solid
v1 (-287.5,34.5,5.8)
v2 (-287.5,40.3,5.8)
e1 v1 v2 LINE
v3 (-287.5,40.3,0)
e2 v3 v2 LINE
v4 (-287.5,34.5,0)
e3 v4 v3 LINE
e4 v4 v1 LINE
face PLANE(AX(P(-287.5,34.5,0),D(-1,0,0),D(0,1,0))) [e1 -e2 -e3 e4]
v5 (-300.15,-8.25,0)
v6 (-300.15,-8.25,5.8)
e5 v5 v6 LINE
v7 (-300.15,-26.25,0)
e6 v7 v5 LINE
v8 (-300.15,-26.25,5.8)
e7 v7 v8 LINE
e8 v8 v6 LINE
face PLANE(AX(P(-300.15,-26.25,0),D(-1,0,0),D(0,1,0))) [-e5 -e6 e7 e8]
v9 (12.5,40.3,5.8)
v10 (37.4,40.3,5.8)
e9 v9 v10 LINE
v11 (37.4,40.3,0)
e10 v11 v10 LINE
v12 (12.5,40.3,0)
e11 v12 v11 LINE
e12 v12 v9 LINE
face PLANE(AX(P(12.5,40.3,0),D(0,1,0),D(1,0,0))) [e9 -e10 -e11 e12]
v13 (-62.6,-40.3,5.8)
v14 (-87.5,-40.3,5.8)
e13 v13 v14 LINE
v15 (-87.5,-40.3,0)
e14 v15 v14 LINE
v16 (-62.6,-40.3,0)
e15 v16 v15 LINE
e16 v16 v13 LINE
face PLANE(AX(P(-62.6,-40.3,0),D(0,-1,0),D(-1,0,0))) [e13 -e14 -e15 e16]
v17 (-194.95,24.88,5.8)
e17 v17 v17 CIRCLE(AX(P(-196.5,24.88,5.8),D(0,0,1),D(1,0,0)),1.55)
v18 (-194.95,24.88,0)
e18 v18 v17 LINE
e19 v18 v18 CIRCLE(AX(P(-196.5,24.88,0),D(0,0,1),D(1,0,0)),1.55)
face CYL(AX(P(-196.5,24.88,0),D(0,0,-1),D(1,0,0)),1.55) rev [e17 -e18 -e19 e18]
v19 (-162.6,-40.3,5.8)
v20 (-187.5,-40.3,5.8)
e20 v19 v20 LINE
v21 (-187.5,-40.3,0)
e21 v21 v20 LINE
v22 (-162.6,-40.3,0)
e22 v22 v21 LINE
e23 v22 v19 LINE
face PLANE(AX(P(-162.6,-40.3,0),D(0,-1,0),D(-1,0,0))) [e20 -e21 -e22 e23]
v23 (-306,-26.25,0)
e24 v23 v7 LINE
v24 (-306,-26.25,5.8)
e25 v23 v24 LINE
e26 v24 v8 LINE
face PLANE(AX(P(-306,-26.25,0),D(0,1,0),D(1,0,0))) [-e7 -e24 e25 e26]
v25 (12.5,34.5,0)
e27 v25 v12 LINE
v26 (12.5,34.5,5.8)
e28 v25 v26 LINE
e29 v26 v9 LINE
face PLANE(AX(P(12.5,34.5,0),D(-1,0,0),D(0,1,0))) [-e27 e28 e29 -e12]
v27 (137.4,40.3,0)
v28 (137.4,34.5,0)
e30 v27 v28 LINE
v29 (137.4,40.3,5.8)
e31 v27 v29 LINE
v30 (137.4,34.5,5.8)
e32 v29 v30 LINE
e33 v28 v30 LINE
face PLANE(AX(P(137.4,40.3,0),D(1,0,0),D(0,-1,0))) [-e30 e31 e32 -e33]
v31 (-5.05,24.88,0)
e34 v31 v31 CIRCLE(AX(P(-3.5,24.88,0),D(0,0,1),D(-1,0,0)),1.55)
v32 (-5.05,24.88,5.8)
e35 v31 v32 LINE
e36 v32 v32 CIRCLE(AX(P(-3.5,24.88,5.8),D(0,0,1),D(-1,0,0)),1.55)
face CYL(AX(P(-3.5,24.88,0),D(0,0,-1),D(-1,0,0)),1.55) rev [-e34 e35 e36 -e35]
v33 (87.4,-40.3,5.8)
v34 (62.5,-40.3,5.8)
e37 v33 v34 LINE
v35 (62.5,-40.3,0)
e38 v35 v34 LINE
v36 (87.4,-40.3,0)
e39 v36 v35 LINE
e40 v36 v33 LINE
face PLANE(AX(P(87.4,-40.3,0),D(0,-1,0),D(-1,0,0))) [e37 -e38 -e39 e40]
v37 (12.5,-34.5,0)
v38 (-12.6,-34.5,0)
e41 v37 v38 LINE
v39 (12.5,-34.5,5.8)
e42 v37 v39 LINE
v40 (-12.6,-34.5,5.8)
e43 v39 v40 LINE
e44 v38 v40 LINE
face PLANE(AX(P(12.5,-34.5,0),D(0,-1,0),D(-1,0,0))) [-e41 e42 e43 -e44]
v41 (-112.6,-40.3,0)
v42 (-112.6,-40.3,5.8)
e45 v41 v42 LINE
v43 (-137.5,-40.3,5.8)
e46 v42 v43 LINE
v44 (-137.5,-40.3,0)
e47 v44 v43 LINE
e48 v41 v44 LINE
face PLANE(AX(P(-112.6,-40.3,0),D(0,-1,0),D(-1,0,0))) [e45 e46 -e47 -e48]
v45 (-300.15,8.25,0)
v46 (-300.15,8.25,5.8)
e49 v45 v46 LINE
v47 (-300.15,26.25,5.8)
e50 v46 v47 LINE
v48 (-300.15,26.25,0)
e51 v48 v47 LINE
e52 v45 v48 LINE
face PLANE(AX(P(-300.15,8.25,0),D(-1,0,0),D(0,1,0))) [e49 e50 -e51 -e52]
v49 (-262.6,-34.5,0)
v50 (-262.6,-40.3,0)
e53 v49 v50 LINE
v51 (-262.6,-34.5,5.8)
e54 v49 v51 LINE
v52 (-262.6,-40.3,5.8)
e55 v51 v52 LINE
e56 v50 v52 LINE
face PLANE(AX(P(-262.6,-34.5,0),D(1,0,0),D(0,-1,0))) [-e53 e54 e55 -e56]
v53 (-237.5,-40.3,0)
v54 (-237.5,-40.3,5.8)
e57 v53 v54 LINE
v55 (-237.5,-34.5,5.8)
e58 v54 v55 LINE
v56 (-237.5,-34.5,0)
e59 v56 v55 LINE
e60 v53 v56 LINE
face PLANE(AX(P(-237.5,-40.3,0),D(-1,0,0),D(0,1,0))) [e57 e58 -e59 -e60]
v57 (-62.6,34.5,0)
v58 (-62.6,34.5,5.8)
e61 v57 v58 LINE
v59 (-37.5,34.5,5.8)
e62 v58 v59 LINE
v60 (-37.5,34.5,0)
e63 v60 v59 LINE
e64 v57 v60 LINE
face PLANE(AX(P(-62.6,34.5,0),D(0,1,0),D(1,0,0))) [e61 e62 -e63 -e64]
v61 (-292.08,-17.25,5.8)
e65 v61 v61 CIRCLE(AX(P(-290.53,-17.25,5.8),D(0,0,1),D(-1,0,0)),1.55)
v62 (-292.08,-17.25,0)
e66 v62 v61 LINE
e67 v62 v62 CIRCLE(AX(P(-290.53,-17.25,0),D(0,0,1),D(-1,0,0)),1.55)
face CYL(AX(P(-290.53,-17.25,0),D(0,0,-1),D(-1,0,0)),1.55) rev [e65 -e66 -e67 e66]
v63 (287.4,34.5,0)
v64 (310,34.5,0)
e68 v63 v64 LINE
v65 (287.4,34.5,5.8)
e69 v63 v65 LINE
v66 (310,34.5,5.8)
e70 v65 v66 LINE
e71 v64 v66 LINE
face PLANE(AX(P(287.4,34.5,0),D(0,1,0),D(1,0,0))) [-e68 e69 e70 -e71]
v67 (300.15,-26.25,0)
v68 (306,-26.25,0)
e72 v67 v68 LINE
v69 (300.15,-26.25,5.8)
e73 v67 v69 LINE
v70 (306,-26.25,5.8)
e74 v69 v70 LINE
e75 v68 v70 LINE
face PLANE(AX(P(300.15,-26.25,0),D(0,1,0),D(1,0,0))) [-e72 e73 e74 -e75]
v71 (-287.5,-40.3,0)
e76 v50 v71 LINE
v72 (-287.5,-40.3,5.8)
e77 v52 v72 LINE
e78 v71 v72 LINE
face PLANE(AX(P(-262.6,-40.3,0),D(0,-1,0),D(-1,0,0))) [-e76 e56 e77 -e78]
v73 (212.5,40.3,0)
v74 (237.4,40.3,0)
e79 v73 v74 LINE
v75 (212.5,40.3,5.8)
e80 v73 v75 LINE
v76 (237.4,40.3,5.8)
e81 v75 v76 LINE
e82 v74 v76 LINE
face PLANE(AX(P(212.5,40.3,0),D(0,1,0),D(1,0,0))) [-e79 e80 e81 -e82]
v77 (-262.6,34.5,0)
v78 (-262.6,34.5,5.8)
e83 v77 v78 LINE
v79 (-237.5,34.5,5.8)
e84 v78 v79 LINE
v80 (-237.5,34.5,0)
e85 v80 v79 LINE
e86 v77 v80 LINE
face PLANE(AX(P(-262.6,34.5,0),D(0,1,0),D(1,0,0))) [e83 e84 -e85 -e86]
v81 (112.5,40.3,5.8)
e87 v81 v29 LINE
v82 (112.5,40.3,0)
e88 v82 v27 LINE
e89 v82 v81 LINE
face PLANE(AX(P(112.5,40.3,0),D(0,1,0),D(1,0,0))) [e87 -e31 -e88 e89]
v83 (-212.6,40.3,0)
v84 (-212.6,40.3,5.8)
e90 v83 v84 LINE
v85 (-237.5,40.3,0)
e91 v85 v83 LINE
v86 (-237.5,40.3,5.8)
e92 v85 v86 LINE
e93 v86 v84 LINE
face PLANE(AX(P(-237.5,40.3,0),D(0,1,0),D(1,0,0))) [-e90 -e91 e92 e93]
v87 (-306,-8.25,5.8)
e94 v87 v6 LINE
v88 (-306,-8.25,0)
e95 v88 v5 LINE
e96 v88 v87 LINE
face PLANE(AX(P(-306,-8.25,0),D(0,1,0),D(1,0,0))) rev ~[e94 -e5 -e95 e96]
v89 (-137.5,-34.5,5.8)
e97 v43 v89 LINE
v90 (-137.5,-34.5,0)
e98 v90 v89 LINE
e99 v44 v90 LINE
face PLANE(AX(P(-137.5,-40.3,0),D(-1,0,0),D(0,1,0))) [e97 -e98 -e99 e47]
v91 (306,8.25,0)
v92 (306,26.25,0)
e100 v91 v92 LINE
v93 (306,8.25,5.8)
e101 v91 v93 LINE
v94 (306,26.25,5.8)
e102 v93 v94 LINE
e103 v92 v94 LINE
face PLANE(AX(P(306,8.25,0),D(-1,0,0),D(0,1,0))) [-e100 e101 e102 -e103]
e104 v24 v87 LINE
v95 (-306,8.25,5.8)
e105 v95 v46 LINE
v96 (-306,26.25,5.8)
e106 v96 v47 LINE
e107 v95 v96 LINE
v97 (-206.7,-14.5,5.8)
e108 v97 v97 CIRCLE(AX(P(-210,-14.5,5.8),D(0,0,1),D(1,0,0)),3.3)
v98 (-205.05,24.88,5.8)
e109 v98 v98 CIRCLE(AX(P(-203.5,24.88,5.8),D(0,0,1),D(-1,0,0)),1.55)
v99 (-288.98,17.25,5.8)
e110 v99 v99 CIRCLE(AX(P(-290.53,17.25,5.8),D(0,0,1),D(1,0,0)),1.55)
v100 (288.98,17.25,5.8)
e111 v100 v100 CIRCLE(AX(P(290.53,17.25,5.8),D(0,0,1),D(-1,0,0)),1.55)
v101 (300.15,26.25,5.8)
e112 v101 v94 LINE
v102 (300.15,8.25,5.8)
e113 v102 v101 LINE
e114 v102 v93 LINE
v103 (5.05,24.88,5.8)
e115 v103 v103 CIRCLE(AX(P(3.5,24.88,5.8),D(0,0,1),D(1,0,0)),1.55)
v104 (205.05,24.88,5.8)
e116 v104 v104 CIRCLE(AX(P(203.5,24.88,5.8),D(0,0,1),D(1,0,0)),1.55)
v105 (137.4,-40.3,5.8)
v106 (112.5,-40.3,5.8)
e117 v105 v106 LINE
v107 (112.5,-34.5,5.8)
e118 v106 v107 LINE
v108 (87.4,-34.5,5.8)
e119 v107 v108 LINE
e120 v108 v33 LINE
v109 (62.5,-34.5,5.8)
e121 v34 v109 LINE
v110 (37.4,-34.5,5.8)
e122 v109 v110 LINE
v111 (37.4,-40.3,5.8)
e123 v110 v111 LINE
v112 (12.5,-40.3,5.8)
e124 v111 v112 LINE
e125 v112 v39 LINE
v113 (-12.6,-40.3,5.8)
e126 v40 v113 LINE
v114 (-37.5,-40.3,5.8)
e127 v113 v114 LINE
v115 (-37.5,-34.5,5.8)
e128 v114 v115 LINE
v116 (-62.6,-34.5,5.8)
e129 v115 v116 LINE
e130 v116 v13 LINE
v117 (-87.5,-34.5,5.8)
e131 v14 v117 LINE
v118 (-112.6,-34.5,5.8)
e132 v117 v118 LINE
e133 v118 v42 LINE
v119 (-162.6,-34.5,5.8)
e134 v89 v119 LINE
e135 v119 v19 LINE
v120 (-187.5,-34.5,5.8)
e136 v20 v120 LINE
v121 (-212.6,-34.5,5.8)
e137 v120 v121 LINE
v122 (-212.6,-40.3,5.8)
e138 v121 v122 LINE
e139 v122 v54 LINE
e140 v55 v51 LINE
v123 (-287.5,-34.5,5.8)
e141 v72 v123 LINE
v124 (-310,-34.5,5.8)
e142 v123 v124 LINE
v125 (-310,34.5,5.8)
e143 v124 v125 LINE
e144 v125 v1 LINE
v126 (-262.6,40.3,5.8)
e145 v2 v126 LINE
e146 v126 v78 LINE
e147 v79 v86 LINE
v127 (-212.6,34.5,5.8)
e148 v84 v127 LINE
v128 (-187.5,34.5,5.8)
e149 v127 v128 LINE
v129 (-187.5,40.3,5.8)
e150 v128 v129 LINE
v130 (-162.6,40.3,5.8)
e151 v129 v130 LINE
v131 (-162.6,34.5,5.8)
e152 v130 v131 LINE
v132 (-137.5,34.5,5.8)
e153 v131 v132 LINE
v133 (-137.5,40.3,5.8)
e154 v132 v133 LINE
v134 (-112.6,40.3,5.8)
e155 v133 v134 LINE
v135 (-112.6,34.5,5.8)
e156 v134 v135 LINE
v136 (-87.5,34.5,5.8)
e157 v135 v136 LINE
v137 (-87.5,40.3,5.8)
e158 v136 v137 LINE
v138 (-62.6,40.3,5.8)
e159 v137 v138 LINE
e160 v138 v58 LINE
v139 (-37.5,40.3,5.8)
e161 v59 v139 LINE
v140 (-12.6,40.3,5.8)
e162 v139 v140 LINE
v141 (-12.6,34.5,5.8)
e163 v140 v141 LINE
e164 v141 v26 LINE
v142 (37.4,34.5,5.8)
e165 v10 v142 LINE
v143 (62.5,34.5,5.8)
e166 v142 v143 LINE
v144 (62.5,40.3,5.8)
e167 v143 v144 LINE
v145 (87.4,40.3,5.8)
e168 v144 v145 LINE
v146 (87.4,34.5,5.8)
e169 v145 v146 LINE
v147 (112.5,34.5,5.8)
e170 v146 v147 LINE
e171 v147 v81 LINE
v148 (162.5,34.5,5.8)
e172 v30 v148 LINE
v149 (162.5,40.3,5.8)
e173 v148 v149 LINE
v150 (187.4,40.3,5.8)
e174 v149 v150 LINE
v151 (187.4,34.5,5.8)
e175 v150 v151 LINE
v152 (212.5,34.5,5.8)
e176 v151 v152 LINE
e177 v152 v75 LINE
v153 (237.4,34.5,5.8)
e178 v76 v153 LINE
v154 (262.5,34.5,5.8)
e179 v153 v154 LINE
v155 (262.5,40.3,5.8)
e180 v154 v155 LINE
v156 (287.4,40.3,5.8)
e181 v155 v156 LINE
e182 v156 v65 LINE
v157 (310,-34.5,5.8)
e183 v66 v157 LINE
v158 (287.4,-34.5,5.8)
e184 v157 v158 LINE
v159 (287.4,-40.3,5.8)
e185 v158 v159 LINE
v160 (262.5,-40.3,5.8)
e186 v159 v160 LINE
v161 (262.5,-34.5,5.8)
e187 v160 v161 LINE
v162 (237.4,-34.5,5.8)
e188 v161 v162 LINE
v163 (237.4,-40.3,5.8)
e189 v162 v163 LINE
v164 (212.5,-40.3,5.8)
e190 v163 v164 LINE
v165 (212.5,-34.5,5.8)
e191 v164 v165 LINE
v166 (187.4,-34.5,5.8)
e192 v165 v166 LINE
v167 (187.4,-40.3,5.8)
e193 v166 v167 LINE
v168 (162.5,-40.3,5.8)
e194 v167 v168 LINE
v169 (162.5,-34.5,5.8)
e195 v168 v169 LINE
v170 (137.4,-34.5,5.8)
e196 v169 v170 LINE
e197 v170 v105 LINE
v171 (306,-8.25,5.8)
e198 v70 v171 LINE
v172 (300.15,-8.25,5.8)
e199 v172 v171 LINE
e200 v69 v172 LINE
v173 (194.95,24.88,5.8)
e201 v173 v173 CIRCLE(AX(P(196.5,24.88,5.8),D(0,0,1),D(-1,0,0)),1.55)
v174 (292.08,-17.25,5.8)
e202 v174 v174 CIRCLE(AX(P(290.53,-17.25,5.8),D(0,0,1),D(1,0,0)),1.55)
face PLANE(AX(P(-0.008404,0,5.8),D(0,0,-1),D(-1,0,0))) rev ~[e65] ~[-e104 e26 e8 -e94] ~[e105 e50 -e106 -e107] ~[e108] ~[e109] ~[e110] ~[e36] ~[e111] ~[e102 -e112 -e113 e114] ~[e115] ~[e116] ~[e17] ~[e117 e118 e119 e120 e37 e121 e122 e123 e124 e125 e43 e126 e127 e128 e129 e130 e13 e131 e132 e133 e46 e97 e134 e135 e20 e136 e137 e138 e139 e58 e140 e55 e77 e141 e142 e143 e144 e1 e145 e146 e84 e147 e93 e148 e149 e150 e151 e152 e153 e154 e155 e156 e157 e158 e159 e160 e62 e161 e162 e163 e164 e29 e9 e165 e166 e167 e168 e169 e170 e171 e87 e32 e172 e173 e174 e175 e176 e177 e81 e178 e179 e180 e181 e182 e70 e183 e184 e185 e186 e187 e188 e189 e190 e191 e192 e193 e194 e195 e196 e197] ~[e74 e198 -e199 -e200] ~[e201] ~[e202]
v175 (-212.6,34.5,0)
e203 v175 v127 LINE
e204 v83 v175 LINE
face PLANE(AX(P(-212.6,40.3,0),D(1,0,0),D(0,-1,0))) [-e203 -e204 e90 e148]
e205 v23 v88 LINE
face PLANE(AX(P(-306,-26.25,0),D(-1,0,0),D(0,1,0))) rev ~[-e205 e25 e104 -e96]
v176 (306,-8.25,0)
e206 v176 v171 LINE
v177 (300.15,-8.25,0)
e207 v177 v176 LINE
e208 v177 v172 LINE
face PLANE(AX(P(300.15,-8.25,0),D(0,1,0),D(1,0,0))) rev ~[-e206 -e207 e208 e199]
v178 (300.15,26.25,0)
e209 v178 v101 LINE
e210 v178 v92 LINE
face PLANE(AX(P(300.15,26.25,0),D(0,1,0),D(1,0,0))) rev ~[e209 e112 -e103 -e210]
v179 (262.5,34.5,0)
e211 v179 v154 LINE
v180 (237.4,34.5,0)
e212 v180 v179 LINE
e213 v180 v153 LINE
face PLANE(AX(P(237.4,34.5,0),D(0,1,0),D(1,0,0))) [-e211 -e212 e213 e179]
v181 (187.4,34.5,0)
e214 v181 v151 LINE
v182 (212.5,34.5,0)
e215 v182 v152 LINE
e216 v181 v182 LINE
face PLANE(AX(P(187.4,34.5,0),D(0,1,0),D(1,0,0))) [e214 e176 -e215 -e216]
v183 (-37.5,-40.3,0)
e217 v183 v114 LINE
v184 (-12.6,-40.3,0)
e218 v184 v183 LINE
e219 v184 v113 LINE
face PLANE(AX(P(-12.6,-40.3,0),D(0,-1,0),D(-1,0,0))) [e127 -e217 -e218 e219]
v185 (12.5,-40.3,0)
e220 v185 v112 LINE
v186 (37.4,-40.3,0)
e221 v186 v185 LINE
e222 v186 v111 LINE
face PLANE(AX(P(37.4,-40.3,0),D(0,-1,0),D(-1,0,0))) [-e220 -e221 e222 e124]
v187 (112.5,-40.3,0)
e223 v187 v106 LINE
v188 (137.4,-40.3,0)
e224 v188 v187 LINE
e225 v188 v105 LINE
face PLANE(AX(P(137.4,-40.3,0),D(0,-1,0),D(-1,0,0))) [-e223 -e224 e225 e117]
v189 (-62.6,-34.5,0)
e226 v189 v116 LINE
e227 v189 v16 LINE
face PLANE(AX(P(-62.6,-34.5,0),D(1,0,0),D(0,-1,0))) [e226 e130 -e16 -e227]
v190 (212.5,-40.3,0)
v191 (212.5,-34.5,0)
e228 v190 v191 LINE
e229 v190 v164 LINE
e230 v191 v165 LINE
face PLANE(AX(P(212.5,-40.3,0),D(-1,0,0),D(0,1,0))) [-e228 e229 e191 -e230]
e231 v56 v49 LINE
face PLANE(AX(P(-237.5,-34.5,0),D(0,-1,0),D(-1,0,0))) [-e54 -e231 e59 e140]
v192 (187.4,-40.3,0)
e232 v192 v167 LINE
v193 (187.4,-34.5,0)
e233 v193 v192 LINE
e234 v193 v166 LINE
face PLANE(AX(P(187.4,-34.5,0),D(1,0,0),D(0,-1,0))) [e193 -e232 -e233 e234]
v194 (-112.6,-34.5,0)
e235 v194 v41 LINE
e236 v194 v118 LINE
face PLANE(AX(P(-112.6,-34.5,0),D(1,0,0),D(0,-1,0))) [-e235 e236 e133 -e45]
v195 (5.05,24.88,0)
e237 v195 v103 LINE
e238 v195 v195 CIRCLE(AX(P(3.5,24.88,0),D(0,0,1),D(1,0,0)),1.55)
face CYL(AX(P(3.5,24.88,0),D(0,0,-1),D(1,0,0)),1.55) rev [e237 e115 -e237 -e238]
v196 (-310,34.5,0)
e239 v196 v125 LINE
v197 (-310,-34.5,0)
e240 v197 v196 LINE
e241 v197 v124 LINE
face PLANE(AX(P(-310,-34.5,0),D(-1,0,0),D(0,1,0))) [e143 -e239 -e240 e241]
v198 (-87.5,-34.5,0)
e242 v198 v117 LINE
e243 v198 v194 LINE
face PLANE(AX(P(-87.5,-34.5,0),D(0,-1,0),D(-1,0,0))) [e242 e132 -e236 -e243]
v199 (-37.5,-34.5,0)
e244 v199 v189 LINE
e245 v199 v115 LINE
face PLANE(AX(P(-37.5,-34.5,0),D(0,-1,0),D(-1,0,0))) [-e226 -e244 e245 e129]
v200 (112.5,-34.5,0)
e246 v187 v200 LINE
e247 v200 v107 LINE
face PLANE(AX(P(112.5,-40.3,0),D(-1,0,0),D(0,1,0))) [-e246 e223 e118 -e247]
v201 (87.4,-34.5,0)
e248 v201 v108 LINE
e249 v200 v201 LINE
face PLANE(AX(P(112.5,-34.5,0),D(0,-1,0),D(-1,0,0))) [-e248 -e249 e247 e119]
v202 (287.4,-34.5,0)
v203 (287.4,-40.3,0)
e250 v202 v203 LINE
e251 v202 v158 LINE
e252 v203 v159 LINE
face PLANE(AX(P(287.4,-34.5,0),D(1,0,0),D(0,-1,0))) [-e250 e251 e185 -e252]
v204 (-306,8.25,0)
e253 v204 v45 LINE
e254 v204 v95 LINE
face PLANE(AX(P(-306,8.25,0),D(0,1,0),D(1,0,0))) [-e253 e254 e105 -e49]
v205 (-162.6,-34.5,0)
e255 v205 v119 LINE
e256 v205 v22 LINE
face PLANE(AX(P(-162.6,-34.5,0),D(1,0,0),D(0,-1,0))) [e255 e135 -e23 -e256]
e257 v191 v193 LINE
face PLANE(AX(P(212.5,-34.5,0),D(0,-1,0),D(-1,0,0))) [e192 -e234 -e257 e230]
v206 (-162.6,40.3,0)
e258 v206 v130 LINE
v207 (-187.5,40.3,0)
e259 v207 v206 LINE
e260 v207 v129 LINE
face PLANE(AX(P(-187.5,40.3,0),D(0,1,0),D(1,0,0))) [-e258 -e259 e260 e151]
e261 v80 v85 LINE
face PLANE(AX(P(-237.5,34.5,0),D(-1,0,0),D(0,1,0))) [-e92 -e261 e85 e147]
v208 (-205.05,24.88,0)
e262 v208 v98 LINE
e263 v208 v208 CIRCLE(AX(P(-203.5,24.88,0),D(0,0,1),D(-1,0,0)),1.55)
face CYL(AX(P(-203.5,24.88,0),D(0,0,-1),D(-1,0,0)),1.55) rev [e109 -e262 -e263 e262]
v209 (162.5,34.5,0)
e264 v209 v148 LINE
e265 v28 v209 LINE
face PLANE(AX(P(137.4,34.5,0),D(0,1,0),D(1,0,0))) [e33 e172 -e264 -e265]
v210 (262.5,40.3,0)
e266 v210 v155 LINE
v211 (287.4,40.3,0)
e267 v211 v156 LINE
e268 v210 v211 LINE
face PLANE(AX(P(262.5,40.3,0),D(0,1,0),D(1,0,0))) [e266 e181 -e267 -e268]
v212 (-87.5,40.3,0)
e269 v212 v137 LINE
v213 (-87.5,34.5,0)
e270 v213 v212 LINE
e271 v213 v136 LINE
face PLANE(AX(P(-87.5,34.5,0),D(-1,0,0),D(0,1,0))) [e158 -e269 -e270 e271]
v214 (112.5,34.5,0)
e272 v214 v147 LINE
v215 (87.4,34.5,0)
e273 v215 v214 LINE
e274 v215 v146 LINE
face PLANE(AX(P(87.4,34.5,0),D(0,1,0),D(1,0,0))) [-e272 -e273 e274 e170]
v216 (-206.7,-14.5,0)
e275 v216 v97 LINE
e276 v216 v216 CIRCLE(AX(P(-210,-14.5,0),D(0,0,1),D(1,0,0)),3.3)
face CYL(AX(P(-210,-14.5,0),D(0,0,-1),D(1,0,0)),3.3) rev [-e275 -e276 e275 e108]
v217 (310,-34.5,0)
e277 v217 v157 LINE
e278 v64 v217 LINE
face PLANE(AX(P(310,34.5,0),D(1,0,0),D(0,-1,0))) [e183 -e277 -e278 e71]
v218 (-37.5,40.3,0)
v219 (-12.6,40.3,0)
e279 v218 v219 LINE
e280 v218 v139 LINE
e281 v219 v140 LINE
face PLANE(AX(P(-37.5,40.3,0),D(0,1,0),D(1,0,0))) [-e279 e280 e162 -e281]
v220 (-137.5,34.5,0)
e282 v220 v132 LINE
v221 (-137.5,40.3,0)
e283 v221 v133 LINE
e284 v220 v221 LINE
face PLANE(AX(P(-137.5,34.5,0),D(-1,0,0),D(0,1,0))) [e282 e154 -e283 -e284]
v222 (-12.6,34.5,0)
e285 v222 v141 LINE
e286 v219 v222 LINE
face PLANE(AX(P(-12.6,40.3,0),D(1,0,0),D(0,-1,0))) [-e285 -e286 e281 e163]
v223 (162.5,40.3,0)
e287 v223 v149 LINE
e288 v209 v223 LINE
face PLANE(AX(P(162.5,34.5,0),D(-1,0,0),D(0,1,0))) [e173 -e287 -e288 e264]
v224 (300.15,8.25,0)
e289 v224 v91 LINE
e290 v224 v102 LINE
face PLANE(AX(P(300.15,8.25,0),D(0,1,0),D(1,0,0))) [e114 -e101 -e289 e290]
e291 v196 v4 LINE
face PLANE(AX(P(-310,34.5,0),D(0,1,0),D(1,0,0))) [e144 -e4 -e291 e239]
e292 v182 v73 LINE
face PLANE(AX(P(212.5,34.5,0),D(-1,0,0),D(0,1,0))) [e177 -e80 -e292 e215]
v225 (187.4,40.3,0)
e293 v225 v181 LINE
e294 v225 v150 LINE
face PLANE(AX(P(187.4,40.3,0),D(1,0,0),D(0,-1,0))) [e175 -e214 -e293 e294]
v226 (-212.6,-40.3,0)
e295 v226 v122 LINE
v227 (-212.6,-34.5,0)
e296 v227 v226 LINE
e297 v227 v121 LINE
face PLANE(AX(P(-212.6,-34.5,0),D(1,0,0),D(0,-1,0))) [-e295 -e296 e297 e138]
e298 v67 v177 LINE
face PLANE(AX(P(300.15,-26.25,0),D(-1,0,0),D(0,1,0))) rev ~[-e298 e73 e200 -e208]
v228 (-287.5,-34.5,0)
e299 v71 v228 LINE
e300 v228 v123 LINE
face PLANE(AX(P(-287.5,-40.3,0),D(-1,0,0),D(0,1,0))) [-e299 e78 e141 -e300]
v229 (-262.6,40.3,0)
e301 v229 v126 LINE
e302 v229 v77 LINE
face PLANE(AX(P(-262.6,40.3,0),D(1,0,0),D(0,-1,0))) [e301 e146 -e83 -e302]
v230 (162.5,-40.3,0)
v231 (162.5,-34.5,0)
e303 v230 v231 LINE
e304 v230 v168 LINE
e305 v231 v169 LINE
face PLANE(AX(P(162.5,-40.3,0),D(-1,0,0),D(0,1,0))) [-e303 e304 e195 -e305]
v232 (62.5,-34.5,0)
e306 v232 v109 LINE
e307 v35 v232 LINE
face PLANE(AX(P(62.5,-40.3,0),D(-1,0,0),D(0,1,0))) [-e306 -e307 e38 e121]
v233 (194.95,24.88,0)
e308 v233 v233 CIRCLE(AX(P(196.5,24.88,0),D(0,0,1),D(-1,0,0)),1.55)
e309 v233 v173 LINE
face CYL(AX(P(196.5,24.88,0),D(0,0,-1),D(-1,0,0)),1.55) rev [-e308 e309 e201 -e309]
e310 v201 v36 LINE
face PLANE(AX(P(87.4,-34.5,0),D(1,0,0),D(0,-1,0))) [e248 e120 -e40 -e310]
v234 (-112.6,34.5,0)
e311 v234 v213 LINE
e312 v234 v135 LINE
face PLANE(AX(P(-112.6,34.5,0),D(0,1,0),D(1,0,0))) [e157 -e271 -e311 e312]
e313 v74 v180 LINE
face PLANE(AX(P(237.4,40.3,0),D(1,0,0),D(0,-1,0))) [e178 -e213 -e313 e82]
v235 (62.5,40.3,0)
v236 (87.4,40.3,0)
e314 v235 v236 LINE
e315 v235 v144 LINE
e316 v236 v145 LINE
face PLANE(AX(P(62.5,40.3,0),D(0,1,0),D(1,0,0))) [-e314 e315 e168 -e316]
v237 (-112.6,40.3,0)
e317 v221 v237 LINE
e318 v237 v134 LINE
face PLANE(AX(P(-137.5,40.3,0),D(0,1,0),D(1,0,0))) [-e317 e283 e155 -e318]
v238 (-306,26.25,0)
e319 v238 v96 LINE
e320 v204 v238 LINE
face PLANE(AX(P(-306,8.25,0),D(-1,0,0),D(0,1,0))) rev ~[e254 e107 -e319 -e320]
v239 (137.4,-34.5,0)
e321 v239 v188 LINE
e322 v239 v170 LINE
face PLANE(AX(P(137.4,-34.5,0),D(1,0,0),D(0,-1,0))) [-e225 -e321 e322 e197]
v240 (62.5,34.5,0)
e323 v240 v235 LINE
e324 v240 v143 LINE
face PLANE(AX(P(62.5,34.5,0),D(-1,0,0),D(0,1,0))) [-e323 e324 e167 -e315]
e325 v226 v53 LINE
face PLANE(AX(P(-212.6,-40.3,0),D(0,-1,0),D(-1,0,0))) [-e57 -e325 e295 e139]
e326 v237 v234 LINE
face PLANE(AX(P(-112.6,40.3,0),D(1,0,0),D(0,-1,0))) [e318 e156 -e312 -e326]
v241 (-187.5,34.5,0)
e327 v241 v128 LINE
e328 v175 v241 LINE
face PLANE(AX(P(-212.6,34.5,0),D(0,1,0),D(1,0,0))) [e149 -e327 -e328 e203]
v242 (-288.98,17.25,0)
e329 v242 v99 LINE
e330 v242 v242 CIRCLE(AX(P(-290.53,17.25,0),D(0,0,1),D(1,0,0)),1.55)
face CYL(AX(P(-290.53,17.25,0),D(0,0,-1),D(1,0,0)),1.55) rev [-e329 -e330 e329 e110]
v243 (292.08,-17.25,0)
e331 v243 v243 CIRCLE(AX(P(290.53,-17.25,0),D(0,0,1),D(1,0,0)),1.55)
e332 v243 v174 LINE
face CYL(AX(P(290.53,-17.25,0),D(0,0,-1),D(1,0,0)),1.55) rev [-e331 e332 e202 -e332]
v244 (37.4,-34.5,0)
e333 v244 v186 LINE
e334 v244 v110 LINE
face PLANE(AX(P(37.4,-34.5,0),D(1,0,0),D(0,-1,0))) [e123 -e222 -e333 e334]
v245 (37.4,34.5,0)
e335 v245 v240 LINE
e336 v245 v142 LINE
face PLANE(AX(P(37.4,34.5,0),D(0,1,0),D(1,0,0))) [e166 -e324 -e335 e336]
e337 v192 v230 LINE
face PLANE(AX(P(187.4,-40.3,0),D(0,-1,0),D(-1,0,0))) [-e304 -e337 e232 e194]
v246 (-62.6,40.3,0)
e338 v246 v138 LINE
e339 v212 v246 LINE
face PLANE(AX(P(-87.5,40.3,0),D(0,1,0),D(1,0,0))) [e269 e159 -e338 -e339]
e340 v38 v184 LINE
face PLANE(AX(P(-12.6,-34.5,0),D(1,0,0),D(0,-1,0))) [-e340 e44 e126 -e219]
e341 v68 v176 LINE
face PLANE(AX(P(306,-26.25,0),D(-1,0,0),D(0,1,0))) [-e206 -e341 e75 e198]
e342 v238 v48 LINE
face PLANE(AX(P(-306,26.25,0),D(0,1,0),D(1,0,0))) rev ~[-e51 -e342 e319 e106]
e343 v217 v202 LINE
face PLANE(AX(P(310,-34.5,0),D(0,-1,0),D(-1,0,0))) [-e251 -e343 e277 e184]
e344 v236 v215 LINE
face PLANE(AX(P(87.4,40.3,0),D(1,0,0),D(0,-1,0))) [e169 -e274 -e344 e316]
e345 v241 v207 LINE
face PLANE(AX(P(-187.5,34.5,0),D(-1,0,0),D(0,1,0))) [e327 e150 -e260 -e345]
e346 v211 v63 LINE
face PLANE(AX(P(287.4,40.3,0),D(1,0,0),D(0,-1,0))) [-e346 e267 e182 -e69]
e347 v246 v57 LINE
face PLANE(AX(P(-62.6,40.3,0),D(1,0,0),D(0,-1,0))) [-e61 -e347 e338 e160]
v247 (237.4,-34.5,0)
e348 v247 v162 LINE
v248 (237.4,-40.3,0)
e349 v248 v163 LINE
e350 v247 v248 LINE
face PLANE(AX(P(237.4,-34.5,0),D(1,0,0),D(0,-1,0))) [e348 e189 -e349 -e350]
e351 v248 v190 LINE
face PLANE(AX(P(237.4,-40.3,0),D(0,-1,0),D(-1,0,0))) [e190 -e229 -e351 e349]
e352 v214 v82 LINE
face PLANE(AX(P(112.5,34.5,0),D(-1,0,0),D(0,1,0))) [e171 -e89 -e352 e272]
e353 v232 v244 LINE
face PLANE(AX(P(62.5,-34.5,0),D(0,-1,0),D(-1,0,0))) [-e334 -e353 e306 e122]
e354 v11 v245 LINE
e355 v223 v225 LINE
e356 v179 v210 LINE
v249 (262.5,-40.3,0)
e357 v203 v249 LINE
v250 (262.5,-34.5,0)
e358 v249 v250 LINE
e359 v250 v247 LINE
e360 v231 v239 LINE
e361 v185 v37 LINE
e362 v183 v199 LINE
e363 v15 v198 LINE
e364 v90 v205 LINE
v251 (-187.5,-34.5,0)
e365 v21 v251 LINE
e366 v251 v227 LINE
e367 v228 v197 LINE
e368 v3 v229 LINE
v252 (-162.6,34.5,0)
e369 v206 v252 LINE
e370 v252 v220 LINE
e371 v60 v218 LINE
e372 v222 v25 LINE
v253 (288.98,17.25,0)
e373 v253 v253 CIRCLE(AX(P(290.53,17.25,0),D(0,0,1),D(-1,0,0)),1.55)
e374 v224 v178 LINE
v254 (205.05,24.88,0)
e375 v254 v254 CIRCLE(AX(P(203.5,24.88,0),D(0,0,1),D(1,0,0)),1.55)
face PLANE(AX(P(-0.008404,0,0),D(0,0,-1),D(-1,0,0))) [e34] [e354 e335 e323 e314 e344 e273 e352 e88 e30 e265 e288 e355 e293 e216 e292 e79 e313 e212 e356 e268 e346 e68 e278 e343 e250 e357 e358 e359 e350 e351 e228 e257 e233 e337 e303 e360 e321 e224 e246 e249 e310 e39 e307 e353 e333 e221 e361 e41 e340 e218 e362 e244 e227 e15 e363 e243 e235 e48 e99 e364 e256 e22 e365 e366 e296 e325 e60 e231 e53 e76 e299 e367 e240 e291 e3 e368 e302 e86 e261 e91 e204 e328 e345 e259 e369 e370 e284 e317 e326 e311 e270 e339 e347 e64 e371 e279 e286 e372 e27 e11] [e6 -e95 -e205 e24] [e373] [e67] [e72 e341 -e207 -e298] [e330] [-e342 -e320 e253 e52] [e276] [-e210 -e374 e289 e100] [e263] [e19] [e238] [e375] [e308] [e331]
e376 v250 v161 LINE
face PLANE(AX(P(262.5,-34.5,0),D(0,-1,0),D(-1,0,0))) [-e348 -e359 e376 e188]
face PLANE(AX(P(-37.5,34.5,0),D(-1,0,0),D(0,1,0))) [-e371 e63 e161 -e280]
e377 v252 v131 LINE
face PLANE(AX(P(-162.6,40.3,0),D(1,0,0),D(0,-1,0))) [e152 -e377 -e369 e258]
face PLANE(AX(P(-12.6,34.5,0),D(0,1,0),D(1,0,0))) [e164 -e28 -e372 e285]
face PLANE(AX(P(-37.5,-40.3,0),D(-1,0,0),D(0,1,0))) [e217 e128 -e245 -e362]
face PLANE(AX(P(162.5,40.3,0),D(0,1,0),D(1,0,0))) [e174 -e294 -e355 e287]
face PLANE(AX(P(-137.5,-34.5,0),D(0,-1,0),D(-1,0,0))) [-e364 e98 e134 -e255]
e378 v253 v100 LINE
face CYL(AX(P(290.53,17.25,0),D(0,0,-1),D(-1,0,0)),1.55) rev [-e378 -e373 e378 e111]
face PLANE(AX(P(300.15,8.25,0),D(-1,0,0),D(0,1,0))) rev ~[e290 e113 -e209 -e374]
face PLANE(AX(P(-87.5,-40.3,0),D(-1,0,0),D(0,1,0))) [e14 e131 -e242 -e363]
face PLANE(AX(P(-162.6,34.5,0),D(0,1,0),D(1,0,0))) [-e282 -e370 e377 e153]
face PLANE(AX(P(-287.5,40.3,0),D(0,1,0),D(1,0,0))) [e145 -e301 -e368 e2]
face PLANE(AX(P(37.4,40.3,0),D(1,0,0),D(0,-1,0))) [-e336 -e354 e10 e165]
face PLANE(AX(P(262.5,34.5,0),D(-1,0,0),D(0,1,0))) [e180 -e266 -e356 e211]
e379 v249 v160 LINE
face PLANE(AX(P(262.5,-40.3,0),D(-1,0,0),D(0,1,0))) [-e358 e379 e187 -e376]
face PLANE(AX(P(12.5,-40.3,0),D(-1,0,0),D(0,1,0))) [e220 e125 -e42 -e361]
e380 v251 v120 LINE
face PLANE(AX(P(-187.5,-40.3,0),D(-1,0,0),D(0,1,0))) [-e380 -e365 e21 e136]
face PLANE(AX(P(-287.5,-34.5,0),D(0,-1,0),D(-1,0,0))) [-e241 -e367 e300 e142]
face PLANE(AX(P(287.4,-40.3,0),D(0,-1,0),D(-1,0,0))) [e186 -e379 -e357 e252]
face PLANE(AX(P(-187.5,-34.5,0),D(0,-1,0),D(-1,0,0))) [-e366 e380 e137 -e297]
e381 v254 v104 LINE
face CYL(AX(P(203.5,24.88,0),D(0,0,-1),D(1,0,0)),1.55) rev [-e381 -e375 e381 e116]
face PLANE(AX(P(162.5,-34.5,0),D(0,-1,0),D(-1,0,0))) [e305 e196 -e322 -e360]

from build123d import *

# Parameters (mm, degrees)
SKETCH1_R           = 3.3
SKETCH1_R_2         = 1.55
SKETCH1_W           = 5.85
SKETCH1_H           = 18
BOSS_EXTRUDE1_DEPTH = 5.8


with BuildPart() as part:
    # Sketch1 → Boss-Extrude1 (new body)
    with BuildSketch(Plane.XY):
        Polygon((-237.5, 34.5), (-237.5, 40.3), (-212.6, 40.3), (-212.6, 34.5), (-187.5, 34.5), (-187.5, 40.3), (-162.6, 40.3), (-162.6, 34.5), (-137.5, 34.5), (-137.5, 40.3), (-112.6, 40.3), (-112.6, 34.5), (-87.5, 34.5), (-87.5, 40.3), (-62.6, 40.3), (-62.6, 34.5), (-37.5, 34.5), (-37.5, 40.3), (-12.6, 40.3), (-12.6, 34.5), (12.5, 34.5), (12.5, 40.3), (37.4, 40.3), (37.4, 34.5), (62.5, 34.5), (62.5, 40.3), (87.4, 40.3), (87.4, 34.5), (112.5, 34.5), (112.5, 40.3), (137.4, 40.3), (137.4, 34.5), (162.5, 34.5), (162.5, 40.3), (187.4, 40.3), (187.4, 34.5), (212.5, 34.5), (212.5, 40.3), (237.4, 40.3), (237.4, 34.5), (262.5, 34.5), (262.5, 40.3), (287.4, 40.3), (287.4, 34.5), (310, 34.5), (310, -34.5), (287.4, -34.5), (287.4, -40.3), (262.5, -40.3), (262.5, -34.5), (237.4, -34.5), (237.4, -40.3), (212.5, -40.3), (212.5, -34.5), (187.4, -34.5), (187.4, -40.3), (162.5, -40.3), (162.5, -34.5), (137.4, -34.5), (137.4, -40.3), (112.5, -40.3), (112.5, -34.5), (87.4, -34.5), (87.4, -40.3), (62.5, -40.3), (62.5, -34.5), (37.4, -34.5), (37.4, -40.3), (12.5, -40.3), (12.5, -34.5), (-12.6, -34.5), (-12.6, -40.3), (-37.5, -40.3), (-37.5, -34.5), (-62.6, -34.5), (-62.6, -40.3), (-87.5, -40.3), (-87.5, -34.5), (-112.6, -34.5), (-112.6, -40.3), (-137.5, -40.3), (-137.5, -34.5), (-162.6, -34.5), (-162.6, -40.3), (-187.5, -40.3), (-187.5, -34.5), (-212.6, -34.5), (-212.6, -40.3), (-237.5, -40.3), (-237.5, -34.5), (-262.6, -34.5), (-262.6, -40.3), (-287.5, -40.3), (-287.5, -34.5), (-310, -34.5), (-310, 34.5), (-287.5, 34.5), (-287.5, 40.3), (-262.6, 40.3), (-262.6, 34.5), align=None)
        with Locations((-210, -14.5)):
            Circle(SKETCH1_R, mode=Mode.SUBTRACT)
        with Locations((-290.53, 17.25)):
            Circle(SKETCH1_R_2, mode=Mode.SUBTRACT)
        with Locations(Location((-290.53, -17.25, 0), (0, 0, 180))):
            Circle(SKETCH1_R_2, mode=Mode.SUBTRACT)
        with Locations((290.53, -17.25)):
            Circle(SKETCH1_R_2, mode=Mode.SUBTRACT)
        with Locations(Location((290.53, 17.25, 0), (0, 0, 180))):
            Circle(SKETCH1_R_2, mode=Mode.SUBTRACT)
        with Locations((3.5, 24.88)):
            Circle(SKETCH1_R_2, mode=Mode.SUBTRACT)
        with Locations(Location((-3.5, 24.88, 0), (0, 0, 180))):
            Circle(SKETCH1_R_2, mode=Mode.SUBTRACT)
        with Locations(Location((196.5, 24.88, 0), (0, 0, 180))):
            Circle(SKETCH1_R_2, mode=Mode.SUBTRACT)
        with Locations((203.5, 24.88)):
            Circle(SKETCH1_R_2, mode=Mode.SUBTRACT)
        with Locations((-196.5, 24.88)):
            Circle(SKETCH1_R_2, mode=Mode.SUBTRACT)
        with Locations(Location((-203.5, 24.88, 0), (0, 0, 180))):
            Circle(SKETCH1_R_2, mode=Mode.SUBTRACT)
        with Locations((303.075, 17.25)):
            Rectangle(SKETCH1_W, SKETCH1_H, mode=Mode.SUBTRACT)
        with Locations((303.075, -17.25)):
            Rectangle(SKETCH1_W, SKETCH1_H, mode=Mode.SUBTRACT)
        with Locations((-303.075, -17.25)):
            Rectangle(SKETCH1_W, SKETCH1_H, mode=Mode.SUBTRACT)
        with Locations((-303.075, 17.25)):
            Rectangle(SKETCH1_W, SKETCH1_H, mode=Mode.SUBTRACT)
    extrude(amount=BOSS_EXTRUDE1_DEPTH)


solid = part.part
